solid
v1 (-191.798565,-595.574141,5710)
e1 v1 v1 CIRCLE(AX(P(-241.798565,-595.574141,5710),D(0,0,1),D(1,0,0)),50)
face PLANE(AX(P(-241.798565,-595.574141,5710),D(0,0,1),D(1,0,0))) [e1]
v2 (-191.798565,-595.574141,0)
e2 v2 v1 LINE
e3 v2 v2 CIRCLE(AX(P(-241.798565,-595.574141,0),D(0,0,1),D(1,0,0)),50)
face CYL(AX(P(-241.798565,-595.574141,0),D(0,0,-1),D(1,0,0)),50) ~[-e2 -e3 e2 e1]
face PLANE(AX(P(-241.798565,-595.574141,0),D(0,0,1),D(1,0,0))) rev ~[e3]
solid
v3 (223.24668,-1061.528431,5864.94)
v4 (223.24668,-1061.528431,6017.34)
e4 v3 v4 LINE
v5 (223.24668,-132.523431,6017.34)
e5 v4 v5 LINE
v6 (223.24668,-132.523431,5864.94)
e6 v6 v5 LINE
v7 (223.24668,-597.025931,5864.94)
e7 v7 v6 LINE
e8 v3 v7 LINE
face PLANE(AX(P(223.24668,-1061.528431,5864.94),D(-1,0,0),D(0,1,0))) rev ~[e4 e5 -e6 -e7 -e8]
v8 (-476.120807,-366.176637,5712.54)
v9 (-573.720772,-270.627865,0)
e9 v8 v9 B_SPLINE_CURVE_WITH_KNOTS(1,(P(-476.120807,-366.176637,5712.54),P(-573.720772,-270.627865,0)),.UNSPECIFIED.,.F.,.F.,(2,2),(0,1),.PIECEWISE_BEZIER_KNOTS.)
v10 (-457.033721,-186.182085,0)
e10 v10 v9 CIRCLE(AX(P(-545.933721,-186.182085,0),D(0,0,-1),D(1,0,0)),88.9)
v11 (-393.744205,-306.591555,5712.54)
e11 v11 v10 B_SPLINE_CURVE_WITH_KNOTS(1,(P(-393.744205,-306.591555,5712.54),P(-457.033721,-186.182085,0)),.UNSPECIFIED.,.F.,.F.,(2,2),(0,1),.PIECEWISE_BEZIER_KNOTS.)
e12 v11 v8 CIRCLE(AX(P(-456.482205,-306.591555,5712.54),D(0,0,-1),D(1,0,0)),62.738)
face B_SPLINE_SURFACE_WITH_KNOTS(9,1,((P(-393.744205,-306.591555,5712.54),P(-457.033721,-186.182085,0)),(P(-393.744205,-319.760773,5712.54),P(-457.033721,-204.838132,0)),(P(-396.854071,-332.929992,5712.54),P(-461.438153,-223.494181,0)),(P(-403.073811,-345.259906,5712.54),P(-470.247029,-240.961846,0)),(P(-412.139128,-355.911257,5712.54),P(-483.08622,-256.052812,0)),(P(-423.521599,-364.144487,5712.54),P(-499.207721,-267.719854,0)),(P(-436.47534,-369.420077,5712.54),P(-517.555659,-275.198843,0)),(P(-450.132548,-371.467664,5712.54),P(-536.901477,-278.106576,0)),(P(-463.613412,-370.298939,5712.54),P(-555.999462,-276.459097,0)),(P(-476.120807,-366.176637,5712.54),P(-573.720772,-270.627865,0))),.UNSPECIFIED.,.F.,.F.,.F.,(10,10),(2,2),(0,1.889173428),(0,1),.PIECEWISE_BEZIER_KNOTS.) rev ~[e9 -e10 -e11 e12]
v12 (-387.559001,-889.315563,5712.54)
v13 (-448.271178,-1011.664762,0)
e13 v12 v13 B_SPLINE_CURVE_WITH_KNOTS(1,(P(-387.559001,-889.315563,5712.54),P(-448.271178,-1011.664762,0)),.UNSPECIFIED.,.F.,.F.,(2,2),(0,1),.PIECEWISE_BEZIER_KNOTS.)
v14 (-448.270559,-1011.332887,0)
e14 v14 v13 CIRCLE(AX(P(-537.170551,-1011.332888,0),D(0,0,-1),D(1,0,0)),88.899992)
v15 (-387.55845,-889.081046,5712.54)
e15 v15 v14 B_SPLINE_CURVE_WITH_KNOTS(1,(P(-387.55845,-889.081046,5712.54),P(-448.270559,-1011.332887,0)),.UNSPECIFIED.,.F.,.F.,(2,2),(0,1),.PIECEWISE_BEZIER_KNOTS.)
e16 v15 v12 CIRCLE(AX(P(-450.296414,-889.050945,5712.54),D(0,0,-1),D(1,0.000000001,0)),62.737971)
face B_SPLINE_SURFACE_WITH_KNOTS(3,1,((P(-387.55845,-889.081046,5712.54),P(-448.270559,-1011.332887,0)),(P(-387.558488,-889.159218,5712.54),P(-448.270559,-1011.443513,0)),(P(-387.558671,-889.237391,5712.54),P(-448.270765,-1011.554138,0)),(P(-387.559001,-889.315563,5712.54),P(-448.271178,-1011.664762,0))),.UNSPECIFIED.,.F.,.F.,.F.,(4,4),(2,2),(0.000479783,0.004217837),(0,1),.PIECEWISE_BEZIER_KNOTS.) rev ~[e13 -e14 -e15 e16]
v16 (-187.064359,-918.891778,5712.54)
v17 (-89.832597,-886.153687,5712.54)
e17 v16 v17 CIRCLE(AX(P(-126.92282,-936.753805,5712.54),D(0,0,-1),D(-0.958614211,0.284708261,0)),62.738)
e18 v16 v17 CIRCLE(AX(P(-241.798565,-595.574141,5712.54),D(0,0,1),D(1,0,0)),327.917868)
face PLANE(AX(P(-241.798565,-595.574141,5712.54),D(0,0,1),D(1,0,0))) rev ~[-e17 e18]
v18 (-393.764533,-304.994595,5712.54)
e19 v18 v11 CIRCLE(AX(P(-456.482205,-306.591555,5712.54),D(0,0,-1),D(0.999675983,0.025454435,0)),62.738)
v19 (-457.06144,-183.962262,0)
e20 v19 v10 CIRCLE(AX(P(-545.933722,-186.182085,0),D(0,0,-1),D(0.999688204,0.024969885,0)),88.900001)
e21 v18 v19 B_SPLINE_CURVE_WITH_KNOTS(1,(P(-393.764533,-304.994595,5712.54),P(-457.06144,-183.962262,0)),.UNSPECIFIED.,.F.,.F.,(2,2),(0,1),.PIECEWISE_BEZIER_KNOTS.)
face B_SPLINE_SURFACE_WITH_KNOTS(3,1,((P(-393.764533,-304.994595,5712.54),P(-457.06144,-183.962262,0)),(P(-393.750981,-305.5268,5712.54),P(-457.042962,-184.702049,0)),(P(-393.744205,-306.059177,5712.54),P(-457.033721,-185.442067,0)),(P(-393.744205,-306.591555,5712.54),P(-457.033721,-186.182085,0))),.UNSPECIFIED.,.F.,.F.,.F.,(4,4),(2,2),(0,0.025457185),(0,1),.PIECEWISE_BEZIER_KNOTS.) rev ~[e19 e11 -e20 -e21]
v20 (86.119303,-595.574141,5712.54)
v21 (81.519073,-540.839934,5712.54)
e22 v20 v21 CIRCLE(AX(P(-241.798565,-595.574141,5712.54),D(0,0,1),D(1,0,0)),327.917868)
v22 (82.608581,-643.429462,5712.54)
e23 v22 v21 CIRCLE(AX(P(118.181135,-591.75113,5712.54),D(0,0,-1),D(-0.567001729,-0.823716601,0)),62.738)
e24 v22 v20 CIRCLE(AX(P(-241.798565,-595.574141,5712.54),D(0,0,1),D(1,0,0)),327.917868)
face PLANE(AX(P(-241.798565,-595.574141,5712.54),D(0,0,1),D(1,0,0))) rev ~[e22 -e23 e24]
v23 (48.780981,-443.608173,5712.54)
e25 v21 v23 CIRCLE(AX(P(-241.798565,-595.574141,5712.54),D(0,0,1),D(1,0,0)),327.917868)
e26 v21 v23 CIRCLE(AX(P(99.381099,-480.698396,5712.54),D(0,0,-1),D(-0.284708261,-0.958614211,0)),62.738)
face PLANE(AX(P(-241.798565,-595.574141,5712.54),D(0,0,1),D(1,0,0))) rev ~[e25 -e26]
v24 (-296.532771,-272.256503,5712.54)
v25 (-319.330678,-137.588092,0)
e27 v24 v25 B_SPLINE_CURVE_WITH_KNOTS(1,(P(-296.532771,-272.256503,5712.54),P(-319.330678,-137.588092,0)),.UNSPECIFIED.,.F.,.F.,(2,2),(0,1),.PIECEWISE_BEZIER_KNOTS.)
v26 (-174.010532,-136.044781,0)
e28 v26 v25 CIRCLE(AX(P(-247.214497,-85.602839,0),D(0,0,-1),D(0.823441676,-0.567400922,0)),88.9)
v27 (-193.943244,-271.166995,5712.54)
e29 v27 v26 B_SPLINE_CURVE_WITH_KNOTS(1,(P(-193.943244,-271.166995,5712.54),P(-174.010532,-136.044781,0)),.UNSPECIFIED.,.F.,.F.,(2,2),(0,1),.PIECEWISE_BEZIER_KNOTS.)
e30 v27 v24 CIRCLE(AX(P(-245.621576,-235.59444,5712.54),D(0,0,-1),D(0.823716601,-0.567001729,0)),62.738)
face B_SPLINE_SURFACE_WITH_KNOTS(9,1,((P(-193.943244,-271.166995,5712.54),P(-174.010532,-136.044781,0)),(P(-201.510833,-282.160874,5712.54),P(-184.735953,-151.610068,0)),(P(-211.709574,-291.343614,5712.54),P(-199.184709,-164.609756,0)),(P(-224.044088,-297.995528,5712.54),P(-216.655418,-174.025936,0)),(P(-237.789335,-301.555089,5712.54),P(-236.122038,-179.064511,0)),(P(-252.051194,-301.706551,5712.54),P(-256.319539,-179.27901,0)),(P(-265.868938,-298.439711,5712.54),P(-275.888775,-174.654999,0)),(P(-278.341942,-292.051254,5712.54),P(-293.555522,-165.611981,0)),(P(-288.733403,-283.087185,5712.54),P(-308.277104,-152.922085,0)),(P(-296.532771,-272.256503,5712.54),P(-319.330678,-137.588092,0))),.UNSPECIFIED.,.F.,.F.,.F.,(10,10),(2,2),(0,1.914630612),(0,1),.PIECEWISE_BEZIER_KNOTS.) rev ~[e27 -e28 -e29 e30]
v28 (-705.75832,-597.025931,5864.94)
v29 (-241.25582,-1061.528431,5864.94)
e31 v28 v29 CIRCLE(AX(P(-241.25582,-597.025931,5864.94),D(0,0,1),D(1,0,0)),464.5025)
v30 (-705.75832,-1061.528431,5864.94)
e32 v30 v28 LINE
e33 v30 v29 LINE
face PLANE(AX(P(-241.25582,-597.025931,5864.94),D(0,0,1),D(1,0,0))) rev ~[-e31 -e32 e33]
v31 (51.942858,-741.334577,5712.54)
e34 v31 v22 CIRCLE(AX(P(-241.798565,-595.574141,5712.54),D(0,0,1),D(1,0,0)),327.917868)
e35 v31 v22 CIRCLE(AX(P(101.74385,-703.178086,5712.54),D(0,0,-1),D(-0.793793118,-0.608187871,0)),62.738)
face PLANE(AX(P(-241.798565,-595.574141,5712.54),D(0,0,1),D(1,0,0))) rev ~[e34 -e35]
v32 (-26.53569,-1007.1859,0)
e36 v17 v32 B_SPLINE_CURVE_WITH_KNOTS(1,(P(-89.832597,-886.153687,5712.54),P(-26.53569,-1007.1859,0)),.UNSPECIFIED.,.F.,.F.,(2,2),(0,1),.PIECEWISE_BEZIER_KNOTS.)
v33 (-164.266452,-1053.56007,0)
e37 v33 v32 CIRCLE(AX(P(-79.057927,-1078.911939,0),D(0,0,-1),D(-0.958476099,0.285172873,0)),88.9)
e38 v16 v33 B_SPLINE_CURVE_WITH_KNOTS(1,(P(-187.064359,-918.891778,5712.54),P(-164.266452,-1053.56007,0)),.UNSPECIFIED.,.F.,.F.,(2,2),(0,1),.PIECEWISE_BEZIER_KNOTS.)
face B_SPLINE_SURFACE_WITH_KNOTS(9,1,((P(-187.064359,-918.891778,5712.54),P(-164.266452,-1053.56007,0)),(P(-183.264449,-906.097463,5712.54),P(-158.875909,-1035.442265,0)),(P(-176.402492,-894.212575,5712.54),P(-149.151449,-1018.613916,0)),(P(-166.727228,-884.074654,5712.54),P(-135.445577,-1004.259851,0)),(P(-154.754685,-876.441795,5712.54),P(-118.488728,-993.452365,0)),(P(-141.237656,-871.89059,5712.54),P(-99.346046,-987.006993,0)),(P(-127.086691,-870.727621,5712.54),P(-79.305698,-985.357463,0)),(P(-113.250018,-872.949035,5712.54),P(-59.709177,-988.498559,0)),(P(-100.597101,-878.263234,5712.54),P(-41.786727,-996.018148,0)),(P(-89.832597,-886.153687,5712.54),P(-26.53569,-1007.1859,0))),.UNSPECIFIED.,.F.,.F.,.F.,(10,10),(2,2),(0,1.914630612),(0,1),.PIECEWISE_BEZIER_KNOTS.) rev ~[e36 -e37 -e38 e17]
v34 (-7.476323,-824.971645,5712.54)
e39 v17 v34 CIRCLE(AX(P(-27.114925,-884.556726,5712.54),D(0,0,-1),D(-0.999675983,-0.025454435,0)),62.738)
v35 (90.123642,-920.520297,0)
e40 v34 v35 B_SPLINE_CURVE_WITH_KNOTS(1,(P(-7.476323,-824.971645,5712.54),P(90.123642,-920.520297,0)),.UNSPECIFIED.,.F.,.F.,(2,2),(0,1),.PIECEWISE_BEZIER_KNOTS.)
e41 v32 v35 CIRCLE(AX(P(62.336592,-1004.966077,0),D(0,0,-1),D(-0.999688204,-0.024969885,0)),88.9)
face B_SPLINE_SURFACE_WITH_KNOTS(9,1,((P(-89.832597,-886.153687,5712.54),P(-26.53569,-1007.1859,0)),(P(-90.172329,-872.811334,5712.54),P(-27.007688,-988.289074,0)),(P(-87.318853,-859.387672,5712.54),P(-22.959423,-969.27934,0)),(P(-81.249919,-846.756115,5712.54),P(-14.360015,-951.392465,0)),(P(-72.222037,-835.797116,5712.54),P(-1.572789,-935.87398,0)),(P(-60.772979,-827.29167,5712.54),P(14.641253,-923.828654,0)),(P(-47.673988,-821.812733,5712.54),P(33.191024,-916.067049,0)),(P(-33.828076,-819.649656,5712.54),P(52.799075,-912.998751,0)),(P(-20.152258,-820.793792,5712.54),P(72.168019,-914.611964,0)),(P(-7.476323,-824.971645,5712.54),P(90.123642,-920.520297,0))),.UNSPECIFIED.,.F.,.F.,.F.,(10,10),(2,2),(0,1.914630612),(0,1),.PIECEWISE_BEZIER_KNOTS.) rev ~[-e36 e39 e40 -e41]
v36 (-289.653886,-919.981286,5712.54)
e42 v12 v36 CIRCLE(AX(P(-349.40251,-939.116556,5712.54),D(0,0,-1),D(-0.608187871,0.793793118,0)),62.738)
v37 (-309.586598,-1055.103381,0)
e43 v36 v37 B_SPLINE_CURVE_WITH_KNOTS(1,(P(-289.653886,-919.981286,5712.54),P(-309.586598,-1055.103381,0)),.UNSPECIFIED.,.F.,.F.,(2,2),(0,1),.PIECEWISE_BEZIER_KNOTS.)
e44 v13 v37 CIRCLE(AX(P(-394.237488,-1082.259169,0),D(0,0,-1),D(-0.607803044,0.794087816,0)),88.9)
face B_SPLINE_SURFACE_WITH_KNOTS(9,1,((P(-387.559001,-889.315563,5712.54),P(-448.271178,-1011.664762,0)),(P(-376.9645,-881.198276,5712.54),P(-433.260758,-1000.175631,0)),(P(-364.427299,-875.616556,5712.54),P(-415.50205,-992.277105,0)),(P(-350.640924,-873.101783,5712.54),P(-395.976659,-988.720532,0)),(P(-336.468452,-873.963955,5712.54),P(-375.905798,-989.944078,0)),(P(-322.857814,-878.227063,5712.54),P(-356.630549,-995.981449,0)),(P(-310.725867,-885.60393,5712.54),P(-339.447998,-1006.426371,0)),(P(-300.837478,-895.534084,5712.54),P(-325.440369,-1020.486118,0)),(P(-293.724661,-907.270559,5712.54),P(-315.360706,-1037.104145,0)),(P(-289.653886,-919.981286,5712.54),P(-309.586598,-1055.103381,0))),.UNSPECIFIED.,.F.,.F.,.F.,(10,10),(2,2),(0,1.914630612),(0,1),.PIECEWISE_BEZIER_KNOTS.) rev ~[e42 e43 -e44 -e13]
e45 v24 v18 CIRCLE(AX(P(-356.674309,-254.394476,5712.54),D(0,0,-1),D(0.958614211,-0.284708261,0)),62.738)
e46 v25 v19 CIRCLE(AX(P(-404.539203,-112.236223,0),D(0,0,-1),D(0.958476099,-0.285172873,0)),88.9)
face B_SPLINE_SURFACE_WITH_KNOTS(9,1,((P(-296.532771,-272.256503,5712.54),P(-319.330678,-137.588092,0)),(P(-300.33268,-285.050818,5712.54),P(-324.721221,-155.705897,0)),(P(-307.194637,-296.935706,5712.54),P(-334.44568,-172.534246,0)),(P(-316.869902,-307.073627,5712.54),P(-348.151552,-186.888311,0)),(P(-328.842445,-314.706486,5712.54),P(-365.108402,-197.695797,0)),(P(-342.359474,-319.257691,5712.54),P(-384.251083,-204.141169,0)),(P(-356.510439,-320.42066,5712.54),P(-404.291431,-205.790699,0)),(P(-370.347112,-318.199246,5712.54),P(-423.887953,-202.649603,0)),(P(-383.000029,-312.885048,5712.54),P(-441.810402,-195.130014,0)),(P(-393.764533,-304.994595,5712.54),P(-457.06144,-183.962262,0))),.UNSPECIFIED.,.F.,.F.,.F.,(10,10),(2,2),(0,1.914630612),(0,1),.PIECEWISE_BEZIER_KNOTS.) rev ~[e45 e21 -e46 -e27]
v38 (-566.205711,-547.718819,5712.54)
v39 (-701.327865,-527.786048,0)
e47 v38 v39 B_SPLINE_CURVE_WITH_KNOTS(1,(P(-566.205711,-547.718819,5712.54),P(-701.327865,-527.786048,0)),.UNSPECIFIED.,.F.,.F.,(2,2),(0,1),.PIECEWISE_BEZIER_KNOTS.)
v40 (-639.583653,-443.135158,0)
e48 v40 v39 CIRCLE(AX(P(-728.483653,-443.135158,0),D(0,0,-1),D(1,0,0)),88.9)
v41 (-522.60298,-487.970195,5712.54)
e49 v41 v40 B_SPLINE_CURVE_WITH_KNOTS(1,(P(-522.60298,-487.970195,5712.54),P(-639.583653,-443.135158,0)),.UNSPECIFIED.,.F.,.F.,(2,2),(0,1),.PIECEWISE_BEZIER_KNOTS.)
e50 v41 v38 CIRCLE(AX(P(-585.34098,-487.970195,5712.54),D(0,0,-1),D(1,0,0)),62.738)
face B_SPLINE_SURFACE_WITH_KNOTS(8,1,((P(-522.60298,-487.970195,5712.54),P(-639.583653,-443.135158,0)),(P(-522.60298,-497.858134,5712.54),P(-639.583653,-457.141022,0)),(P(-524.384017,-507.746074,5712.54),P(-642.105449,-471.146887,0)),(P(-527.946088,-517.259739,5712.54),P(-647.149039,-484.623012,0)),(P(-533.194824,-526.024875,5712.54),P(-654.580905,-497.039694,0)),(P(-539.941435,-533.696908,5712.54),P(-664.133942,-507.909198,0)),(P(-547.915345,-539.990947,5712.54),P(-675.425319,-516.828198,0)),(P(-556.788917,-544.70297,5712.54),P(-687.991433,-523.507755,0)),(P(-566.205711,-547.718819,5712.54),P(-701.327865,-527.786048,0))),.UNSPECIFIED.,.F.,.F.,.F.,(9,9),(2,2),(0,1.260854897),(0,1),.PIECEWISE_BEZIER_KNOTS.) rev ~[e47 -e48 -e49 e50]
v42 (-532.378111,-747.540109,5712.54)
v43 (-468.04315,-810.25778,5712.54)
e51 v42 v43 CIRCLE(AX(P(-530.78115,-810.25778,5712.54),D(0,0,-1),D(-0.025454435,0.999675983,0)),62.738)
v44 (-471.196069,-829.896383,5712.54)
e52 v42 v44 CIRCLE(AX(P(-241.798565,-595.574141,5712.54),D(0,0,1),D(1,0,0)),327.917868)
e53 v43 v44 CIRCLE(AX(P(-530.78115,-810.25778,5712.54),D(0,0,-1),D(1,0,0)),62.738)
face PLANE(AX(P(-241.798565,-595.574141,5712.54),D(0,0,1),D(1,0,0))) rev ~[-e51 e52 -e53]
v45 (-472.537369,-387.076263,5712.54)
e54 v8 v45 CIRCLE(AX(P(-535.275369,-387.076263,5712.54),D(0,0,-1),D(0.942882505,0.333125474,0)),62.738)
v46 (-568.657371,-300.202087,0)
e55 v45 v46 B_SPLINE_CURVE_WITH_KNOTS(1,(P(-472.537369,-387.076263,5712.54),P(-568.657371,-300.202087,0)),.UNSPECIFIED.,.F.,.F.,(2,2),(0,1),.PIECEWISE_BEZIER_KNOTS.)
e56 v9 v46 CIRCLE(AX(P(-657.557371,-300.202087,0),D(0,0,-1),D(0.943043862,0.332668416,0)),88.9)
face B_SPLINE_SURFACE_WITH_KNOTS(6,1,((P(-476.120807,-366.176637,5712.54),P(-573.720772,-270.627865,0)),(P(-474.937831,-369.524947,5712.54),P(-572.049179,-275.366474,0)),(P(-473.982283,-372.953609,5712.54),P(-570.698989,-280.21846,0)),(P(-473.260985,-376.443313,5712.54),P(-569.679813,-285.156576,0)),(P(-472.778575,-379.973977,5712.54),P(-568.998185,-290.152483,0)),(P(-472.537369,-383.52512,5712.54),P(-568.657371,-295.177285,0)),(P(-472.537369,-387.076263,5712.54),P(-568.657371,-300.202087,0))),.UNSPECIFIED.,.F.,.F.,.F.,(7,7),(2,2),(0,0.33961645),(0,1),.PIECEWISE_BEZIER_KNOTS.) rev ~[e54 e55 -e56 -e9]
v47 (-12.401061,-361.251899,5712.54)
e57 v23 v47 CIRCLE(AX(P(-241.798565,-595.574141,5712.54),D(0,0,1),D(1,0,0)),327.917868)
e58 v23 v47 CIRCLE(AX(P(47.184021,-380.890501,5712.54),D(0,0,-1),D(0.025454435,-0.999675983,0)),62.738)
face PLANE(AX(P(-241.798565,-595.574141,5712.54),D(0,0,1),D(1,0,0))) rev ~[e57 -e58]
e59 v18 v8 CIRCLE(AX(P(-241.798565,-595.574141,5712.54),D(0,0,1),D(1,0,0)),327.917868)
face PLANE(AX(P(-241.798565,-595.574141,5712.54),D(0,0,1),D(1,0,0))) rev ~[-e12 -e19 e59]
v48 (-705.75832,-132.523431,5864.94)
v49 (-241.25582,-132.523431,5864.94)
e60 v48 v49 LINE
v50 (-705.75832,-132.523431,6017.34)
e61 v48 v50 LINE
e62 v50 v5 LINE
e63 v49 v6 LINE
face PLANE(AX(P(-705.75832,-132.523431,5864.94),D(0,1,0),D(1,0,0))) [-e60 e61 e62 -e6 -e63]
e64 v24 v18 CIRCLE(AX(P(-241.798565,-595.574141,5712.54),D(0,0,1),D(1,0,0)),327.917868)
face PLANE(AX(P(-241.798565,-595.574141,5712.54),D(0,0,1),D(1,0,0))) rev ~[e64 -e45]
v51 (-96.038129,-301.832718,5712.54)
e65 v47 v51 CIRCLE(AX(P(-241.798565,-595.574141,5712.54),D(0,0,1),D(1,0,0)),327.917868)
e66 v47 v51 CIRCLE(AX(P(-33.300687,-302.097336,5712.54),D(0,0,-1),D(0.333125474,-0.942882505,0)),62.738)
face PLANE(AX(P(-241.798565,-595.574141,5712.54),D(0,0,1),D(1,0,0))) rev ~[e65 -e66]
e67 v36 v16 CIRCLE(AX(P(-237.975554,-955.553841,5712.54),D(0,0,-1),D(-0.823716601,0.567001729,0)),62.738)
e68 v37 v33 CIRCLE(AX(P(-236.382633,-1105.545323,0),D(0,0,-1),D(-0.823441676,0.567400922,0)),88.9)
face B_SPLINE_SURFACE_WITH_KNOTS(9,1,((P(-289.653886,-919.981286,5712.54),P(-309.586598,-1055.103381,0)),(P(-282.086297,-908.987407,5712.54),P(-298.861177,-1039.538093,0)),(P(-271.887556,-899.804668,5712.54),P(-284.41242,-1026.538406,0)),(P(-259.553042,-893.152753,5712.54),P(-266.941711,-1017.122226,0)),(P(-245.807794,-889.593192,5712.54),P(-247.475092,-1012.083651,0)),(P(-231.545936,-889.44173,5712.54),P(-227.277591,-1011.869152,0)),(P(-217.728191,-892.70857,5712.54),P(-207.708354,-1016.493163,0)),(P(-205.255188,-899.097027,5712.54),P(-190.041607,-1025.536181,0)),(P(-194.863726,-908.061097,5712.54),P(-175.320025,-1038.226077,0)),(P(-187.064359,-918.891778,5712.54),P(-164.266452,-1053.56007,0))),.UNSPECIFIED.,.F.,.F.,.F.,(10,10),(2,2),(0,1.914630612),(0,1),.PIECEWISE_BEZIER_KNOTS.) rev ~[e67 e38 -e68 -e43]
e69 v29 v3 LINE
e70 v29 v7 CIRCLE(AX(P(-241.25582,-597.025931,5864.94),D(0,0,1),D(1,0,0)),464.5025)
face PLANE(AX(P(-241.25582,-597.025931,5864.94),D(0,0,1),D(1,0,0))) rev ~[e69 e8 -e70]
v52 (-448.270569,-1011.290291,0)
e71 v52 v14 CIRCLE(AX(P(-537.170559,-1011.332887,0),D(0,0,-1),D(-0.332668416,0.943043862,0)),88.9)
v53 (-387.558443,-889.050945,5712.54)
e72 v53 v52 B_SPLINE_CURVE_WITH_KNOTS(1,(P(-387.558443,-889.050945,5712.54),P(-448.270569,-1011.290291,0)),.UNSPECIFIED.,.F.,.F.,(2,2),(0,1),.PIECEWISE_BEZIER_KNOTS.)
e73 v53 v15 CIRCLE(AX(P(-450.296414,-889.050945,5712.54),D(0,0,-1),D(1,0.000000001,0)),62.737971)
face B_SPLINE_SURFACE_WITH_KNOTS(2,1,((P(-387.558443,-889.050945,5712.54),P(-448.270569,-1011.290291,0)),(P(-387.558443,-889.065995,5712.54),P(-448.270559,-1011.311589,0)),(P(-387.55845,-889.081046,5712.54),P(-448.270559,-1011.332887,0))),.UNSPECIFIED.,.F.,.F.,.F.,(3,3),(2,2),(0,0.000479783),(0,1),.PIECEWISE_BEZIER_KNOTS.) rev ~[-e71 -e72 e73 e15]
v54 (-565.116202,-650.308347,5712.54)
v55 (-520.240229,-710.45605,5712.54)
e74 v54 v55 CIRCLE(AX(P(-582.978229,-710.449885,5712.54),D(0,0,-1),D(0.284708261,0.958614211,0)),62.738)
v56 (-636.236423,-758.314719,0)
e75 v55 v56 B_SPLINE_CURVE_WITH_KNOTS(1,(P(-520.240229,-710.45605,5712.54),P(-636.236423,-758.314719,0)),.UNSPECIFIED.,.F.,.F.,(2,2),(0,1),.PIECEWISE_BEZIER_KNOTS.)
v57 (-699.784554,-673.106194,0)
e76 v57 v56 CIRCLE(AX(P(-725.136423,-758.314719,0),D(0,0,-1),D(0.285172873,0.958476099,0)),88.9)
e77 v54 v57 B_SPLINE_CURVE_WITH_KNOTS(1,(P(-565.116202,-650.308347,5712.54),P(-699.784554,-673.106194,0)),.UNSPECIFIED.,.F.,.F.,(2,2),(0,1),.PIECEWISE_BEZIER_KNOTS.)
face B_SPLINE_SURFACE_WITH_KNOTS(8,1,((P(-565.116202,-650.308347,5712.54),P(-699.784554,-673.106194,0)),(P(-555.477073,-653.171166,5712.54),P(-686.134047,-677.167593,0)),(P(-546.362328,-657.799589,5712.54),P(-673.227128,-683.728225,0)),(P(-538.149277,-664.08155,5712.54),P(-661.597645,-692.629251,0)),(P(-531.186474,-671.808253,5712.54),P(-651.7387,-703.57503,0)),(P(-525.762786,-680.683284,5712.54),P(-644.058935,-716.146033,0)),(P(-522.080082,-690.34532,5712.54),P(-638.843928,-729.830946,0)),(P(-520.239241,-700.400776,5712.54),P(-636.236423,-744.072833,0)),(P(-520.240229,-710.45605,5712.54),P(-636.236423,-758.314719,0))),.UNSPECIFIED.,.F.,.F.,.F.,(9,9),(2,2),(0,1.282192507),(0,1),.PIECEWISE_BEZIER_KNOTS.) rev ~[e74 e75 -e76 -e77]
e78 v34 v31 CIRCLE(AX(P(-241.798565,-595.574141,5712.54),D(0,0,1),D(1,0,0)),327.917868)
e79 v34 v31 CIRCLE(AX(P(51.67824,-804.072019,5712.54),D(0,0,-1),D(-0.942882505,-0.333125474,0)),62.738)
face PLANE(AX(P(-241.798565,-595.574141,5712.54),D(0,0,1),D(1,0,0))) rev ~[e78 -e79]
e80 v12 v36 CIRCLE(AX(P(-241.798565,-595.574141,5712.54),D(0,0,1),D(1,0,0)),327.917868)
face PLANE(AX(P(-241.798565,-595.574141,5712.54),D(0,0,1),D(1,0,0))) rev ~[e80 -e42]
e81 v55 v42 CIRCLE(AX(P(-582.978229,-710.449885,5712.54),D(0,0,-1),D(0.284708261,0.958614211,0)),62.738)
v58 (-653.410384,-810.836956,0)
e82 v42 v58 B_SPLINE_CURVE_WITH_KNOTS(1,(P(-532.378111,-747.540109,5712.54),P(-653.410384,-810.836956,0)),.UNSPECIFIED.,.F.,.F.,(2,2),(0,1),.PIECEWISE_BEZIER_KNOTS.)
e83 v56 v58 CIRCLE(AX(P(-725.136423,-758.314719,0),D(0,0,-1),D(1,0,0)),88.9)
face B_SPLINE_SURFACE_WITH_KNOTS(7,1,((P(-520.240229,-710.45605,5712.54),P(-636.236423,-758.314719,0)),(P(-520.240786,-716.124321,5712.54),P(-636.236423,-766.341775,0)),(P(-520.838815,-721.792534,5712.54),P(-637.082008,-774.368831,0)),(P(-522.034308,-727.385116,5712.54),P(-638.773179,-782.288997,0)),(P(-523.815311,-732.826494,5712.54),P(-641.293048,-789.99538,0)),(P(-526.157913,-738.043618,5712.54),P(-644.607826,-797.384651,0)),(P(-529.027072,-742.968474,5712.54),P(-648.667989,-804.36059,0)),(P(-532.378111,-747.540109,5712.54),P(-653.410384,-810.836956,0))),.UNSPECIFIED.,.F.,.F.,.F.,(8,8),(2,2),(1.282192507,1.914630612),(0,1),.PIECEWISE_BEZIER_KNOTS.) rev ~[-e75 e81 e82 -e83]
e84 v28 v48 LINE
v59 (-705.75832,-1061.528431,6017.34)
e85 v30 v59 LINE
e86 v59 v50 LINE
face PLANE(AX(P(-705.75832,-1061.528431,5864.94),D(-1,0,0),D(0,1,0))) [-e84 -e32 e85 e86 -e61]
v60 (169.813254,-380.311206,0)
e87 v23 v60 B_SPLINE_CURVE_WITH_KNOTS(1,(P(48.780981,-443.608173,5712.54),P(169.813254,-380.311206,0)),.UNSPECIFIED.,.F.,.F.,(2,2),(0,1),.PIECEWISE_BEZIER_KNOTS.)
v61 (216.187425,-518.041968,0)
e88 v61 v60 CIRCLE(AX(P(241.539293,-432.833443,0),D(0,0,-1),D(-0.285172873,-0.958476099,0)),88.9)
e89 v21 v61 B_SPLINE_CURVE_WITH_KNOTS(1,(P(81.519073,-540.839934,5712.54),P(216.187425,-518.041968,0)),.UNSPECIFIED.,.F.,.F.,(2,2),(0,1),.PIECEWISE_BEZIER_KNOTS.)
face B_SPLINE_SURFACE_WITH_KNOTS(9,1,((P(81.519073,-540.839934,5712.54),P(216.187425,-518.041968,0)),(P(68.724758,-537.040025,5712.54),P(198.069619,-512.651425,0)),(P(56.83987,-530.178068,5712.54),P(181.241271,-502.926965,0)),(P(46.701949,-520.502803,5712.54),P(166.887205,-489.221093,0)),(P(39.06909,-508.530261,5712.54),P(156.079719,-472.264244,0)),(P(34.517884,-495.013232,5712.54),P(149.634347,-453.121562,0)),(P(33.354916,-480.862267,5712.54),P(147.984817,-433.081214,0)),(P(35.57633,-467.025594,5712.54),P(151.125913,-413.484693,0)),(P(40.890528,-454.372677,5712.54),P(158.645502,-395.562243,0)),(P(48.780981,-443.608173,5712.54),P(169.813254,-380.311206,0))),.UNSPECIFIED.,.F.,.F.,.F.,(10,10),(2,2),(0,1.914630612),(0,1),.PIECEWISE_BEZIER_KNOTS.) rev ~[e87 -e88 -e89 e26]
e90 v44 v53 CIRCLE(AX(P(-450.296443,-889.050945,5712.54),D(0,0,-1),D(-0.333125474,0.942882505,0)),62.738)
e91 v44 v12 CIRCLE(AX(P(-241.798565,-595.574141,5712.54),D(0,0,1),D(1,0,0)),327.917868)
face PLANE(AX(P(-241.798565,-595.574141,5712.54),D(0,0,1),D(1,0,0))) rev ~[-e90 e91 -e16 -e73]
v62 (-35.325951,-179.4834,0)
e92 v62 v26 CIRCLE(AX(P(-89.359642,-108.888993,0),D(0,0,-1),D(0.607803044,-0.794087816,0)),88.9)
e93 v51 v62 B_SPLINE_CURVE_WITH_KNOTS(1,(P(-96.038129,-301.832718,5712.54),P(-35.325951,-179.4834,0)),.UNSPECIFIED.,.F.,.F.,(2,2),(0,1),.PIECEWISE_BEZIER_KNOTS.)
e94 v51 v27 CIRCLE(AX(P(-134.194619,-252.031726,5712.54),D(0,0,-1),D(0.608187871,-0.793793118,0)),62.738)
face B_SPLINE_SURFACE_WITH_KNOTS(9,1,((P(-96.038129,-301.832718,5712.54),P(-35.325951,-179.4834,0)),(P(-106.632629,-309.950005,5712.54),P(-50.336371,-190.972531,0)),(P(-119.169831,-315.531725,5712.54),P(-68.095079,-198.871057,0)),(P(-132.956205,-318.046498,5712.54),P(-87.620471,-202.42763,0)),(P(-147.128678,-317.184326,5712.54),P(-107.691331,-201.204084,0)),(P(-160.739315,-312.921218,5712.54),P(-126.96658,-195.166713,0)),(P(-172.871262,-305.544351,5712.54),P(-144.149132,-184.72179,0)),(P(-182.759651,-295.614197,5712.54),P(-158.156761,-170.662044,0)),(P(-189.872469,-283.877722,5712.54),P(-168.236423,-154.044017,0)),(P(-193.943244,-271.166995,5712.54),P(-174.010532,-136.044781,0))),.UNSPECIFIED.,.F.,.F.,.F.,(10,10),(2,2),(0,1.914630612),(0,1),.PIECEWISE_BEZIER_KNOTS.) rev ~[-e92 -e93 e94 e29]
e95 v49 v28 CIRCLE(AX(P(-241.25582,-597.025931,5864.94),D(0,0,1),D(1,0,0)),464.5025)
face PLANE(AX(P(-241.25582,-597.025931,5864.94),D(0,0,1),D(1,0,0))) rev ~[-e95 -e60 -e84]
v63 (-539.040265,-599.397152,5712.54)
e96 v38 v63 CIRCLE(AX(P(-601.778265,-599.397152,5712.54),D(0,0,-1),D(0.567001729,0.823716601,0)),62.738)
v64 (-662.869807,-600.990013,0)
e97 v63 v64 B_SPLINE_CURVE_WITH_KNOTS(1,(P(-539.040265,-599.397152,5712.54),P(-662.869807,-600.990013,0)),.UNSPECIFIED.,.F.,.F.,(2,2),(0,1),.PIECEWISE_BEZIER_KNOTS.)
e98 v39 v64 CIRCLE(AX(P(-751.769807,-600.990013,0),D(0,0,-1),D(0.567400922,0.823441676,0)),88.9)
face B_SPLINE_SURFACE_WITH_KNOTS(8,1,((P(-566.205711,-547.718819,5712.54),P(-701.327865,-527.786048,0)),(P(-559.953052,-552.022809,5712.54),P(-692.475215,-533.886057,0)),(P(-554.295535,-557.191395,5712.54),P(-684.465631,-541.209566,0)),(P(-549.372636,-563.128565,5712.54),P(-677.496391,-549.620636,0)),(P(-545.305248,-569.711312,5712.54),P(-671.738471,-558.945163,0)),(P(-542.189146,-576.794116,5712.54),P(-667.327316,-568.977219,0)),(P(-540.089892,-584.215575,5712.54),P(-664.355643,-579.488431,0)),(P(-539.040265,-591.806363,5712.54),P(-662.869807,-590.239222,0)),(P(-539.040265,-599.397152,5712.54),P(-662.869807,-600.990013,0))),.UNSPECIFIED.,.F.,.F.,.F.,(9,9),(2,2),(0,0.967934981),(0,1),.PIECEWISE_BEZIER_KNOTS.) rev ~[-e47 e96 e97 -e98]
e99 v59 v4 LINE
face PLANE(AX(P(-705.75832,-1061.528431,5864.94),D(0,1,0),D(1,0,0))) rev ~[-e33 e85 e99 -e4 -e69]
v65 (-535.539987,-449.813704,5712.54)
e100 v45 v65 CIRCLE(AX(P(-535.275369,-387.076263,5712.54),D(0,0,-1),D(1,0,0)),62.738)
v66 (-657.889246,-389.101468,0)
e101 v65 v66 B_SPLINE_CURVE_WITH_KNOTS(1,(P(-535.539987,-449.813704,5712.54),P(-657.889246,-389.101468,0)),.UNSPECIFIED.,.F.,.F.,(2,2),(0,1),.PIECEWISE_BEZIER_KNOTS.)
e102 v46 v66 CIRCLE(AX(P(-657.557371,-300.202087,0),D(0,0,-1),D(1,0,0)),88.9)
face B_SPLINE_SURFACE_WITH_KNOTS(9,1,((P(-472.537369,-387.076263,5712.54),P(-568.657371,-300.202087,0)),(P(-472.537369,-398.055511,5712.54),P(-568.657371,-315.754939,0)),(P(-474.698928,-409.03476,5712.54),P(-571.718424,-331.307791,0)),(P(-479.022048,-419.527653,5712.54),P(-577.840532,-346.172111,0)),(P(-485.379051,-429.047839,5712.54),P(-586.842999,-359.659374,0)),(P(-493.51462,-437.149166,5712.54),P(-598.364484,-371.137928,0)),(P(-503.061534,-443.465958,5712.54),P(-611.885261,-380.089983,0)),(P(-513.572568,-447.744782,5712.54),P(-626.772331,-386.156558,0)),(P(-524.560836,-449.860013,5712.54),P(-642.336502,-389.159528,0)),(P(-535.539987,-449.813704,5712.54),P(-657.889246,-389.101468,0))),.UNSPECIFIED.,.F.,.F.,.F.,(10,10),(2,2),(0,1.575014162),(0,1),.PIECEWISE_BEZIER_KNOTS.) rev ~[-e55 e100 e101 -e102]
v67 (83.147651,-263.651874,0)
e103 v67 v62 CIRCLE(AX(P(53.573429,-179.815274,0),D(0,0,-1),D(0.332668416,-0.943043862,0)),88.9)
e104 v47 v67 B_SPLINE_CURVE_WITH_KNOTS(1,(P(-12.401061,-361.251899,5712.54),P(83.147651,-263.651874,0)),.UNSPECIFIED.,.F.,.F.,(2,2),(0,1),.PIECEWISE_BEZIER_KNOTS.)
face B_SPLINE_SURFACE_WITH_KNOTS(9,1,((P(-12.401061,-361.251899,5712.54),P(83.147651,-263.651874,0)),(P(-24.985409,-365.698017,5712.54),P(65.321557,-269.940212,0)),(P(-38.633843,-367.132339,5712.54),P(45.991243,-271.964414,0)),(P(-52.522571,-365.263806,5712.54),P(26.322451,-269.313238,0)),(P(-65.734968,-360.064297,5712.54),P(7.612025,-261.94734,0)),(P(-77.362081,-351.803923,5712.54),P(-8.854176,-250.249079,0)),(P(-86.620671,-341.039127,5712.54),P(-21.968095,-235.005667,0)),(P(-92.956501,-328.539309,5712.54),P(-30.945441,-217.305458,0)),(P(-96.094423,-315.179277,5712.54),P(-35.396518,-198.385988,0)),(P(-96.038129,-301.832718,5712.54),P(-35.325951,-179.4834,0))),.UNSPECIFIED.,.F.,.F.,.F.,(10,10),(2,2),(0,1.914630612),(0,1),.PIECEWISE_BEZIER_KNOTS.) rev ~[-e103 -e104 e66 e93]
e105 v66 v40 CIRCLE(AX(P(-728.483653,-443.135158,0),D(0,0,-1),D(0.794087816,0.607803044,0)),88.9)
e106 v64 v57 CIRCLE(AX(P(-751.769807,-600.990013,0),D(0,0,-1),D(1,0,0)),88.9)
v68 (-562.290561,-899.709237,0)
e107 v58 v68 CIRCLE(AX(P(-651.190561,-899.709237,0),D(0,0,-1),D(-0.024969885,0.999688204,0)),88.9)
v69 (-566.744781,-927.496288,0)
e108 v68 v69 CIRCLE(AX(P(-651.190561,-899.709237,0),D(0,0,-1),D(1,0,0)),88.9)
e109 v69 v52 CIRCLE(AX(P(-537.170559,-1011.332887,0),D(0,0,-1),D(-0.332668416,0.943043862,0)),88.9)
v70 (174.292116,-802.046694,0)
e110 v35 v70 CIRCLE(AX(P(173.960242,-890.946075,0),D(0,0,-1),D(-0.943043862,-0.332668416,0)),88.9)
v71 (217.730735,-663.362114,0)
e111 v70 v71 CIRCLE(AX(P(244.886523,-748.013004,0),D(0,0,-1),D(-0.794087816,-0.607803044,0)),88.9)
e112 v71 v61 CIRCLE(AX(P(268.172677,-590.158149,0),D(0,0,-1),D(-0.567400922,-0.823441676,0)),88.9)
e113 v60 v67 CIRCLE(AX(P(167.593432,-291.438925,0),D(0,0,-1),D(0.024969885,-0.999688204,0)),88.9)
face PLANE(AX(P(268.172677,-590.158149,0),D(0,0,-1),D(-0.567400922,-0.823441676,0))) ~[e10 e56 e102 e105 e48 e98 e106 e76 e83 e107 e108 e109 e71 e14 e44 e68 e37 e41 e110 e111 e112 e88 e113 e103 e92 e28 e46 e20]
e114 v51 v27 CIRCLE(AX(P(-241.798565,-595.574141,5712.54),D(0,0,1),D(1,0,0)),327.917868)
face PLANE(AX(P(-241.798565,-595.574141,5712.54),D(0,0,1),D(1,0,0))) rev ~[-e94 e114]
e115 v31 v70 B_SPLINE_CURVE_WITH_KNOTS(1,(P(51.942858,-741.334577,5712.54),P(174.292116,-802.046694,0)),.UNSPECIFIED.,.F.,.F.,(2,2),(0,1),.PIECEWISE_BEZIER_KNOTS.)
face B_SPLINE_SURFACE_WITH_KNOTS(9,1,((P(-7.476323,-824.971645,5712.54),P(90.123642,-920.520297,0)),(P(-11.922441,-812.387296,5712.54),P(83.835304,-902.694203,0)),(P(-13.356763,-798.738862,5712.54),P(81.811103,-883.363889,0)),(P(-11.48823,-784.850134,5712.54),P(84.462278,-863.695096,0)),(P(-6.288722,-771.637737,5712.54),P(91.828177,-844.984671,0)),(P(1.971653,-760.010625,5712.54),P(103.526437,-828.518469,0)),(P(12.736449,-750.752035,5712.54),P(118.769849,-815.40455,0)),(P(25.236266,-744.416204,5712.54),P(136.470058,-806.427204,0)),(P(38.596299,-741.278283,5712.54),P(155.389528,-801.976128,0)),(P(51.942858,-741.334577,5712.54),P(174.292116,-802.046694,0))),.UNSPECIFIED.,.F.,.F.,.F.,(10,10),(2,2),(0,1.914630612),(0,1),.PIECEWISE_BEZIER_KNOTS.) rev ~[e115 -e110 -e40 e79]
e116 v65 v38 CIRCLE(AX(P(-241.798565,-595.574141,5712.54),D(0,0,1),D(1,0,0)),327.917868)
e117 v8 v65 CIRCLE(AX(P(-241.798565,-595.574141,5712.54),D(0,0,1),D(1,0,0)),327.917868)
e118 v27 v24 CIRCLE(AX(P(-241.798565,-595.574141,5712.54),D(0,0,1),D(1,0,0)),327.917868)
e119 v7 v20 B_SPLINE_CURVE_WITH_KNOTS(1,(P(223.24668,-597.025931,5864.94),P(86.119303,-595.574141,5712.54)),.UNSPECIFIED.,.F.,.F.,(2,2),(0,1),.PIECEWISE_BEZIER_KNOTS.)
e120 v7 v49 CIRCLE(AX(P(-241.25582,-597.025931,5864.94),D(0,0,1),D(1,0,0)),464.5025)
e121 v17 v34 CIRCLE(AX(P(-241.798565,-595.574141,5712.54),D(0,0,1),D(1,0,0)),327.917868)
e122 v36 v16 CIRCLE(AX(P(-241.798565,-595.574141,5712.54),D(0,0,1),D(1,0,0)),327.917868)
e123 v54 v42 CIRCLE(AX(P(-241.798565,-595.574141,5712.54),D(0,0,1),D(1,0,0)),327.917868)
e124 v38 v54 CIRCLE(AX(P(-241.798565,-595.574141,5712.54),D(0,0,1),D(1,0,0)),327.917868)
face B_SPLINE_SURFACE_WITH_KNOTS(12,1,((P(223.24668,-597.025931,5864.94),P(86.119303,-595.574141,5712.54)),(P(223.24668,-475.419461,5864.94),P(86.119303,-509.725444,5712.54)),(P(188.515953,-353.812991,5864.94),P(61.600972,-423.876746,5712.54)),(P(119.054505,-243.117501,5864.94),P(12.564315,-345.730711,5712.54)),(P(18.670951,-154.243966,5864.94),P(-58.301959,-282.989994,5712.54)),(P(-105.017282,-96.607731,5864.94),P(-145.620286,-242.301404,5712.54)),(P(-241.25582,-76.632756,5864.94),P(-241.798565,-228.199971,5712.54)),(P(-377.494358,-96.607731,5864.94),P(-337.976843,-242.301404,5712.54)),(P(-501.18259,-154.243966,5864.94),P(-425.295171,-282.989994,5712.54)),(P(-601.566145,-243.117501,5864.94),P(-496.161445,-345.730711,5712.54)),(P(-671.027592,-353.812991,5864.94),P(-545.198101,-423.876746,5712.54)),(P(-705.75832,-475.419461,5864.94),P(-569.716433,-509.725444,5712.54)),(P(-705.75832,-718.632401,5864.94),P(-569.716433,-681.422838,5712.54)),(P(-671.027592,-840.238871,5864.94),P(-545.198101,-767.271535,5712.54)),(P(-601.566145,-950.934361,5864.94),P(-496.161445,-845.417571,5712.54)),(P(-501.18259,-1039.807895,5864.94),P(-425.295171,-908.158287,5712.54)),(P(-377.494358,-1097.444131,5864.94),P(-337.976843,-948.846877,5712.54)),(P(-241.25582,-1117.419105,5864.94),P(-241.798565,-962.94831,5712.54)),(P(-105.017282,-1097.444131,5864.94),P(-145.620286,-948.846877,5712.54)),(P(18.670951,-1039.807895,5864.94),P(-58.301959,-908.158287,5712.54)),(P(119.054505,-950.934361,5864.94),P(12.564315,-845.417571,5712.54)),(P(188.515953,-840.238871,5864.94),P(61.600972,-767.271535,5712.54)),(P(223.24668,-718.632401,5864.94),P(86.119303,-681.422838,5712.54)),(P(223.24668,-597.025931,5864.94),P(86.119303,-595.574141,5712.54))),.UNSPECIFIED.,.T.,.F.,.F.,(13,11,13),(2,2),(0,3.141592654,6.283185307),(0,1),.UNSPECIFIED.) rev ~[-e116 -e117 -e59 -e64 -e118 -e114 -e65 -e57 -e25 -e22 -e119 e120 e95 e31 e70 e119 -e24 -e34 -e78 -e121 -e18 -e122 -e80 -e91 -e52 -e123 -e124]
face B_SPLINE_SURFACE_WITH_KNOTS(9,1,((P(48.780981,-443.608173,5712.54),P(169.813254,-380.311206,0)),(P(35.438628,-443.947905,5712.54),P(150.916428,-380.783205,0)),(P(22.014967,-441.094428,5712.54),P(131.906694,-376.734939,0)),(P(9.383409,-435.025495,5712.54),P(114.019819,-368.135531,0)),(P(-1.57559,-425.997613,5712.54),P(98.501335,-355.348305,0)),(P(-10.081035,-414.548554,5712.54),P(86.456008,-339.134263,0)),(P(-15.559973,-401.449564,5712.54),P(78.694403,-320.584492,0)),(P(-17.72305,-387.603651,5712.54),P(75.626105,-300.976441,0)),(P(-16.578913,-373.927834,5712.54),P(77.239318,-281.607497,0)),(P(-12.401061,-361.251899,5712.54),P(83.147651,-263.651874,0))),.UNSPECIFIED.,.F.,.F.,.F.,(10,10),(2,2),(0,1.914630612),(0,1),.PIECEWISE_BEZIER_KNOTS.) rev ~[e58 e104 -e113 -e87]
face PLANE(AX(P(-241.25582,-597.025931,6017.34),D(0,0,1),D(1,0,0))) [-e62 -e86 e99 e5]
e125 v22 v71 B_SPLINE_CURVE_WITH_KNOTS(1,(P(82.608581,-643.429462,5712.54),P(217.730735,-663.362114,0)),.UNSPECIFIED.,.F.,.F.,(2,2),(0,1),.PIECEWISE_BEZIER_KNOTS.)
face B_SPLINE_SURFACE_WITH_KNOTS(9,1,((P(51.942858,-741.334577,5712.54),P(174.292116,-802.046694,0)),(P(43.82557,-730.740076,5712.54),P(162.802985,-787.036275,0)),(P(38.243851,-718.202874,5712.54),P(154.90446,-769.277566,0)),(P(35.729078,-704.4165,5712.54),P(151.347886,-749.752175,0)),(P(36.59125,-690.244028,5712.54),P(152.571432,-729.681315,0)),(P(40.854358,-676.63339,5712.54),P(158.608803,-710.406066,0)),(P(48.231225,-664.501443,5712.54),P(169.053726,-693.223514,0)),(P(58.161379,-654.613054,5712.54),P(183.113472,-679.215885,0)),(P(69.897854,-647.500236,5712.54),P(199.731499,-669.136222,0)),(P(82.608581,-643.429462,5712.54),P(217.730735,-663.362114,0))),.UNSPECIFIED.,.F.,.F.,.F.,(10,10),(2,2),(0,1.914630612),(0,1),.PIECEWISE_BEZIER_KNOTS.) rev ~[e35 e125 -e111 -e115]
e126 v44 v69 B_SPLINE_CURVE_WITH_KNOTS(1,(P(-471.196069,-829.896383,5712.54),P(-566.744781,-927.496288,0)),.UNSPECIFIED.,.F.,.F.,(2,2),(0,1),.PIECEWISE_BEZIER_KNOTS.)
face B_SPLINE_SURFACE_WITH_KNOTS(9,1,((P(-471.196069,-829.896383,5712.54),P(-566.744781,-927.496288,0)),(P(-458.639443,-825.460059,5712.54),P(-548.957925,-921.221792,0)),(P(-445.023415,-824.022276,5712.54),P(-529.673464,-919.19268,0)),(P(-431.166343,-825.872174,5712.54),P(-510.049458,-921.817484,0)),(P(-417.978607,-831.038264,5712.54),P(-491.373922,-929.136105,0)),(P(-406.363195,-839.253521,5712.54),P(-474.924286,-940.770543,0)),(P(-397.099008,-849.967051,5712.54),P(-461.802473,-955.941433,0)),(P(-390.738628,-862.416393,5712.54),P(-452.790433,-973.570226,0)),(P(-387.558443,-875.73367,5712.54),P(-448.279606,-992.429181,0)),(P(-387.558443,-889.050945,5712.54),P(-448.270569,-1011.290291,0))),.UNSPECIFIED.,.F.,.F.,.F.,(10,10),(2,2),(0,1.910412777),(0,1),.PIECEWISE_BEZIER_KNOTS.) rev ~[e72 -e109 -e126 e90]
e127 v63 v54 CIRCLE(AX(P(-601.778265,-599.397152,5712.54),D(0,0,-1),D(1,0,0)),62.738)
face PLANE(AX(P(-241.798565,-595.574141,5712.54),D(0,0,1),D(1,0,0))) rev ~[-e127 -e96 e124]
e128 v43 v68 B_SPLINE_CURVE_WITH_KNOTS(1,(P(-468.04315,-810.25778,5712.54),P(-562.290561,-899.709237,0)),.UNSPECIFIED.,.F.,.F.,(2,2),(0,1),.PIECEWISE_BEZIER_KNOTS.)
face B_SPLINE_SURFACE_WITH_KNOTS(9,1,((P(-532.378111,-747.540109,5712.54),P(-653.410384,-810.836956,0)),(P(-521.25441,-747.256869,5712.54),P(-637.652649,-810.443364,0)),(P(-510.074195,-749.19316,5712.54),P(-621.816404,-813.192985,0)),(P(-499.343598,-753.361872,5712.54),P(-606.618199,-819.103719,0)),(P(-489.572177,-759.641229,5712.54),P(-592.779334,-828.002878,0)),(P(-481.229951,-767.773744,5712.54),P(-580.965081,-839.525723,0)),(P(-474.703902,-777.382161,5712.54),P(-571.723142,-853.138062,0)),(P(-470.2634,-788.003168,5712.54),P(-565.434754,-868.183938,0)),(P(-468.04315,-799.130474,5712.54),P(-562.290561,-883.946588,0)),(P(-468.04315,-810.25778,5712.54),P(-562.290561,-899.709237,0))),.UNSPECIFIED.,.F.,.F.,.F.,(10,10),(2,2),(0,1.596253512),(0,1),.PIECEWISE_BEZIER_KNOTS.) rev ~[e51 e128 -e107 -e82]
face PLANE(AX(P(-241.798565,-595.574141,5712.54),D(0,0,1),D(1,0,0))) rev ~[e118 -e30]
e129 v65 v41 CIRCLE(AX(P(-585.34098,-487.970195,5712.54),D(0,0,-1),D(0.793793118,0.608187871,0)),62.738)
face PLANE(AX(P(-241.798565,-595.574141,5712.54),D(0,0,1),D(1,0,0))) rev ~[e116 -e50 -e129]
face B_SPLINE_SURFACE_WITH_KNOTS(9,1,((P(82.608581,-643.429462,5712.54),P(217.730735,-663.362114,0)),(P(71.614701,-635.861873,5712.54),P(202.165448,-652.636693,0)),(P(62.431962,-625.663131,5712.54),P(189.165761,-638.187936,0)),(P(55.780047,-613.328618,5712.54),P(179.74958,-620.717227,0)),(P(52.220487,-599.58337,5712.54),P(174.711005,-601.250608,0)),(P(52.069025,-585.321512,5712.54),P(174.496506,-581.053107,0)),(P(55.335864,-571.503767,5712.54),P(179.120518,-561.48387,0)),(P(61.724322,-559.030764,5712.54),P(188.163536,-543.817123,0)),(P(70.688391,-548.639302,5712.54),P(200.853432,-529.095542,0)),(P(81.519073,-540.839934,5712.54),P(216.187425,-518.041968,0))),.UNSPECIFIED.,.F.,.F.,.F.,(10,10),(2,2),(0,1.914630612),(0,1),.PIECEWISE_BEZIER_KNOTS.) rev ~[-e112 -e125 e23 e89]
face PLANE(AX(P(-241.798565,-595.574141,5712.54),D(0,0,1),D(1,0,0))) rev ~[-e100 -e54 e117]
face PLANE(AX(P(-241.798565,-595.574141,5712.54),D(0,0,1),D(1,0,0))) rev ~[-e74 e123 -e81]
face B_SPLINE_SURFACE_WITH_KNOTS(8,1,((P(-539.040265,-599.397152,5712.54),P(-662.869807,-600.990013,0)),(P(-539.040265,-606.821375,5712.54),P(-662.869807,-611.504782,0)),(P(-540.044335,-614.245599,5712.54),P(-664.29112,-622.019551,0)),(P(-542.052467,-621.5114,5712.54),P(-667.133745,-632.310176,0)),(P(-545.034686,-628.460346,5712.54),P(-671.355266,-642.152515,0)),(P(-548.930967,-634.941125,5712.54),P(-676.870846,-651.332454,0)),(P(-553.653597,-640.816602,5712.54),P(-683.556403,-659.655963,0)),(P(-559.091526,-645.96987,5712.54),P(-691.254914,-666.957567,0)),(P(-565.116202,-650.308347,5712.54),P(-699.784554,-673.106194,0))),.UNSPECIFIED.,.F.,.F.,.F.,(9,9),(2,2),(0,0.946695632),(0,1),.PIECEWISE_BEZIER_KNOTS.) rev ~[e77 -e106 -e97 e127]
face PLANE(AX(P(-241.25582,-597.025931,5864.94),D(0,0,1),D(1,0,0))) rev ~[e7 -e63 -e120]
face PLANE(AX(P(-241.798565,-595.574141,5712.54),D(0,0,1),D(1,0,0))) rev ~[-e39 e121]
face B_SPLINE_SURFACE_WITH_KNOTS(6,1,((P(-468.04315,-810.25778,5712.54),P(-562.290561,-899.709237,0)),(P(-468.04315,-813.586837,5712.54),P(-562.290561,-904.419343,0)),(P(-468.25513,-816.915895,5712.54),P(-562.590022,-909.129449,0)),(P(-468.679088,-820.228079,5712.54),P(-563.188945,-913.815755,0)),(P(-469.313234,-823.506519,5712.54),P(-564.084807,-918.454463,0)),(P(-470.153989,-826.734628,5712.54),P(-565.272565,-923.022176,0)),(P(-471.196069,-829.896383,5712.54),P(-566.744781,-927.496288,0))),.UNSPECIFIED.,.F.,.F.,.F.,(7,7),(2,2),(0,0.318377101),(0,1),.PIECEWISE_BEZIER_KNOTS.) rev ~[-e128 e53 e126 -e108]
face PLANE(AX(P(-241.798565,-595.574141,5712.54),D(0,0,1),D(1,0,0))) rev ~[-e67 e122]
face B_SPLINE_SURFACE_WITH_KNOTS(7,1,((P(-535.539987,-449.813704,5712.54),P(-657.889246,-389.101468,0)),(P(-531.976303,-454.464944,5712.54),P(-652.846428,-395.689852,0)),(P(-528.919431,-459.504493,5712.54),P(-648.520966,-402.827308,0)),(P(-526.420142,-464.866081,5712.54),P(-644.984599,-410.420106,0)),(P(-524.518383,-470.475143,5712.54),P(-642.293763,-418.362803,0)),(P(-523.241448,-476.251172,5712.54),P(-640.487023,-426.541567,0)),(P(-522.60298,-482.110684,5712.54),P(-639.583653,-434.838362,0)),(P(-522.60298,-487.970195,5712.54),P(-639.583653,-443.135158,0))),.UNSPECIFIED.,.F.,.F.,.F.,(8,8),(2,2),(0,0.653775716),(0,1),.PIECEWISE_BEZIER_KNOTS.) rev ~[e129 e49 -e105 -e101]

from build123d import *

# Parameters (mm, degrees)
F1_R      = 50
F2_DEPTH  = 5710
F8_R      = 464.5025
F6_R      = 327.9178677151
F10_W     = 929.005
F10_H     = 929.005
F11_DEPTH = 152.4


with BuildPart() as f2:
    # F1 (on face) → F2 (new body)
    with BuildSketch(Plane.XY):
        with Locations((-241.7985647917, -595.5741405487)):
            Circle(F1_R)
    extrude(amount=F2_DEPTH)


with BuildPart() as f5:
    # F4 (on offset) → F5 section 0
    with BuildSketch(Plane.XY.offset(5712.54)):
        with BuildLine():
            ThreePointArc((82.6085809515, -643.4294616488), (55.4466731348, -592.4173741574), (81.5190725913, -540.8399343891))
            ThreePointArc((81.5190725913, -540.8399343891), (39.9229612138, -500.7180472855), (48.7809811976, -443.6081725838))
            ThreePointArc((48.7809811976, -443.6081725838), (-3.1776165419, -418.3038957235), (-12.4010607443, -361.2518985322))
            ThreePointArc((-12.4010607443, -361.2518985322), (-69.6360752822, -353.2421908394), (-96.0381286887, -301.8327181482))
            ThreePointArc((-96.0381286887, -301.8327181482), (-152.9469980223, -311.9016256189), (-193.9432436916, -271.1669948055))
            ThreePointArc((-193.9432436916, -271.1669948055), (-244.955331183, -298.3289026223), (-296.5327709513, -272.2565031657))
            ThreePointArc((-296.5327709513, -272.2565031657), (-336.6546580548, -313.8526145432), (-393.7645327565, -304.9945945594))
            ThreePointArc((-393.7645327565, -304.9945945594), (-393.7492868459, -305.7930100504), (-393.7442046012, -306.5915549174))
            ThreePointArc((-393.7442046012, -306.5915549174), (-419.7128558258, -357.4253196278), (-476.1208068082, -366.1766365013))
            ThreePointArc((-476.1208068082, -366.1766365013), (-473.4397179136, -376.4739586196), (-472.537369413, -387.0762625037))
            ThreePointArc((-472.537369413, -387.0762625037), (-491.0065595478, -431.5321858111), (-535.5399871922, -449.8137044457))
            ThreePointArc((-535.5399871922, -449.8137044457), (-525.9251935326, -467.8251960906), (-522.6029798153, -487.9701950831))
            ThreePointArc((-522.6029798153, -487.9701950831), (-534.6627538789, -524.953624615), (-566.2057105349, -547.7188194486))
            ThreePointArc((-566.2057105349, -547.7188194486), (-546.2453578162, -570.2054941972), (-539.0402650343, -599.3971515655))
            ThreePointArc((-539.0402650343, -599.3971515655), (-545.9384891407, -627.9974325458), (-565.1162021747, -650.3083467084))
            ThreePointArc((-565.1162021747, -650.3083467083), (-532.6956053929, -672.930364835), (-520.2402290675, -710.449885093))
            ThreePointArc((-520.2402290675, -710.449885093), (-523.3518638208, -729.9627836852), (-532.378110781, -747.5401085136))
            ThreePointArc((-532.378110781, -747.5401085136), (-486.9869353651, -765.3342523192), (-468.0431504229, -810.2577803582))
            ThreePointArc((-468.0431504229, -810.2577803582), (-468.8363948241, -820.2028242393), (-471.1960688391, -829.8963825652))
            ThreePointArc((-471.1960688391, -829.8963825652), (-414.0689953151, -837.8295757031), (-387.5584428367, -889.05094517))
            ThreePointArc((-387.5584428367, -889.05094517), (-387.5585823513, -889.1832543539), (-387.5590008947, -889.3155629493))
            ThreePointArc((-387.5590008947, -889.3155629493), (-330.6501315611, -879.2466554785), (-289.6538858918, -919.9812862919))
            ThreePointArc((-289.6538858918, -919.9812862919), (-238.6417984004, -892.8193784752), (-187.064358632, -918.8917779317))
            ThreePointArc((-187.064358632, -918.8917779317), (-146.9424715285, -877.2956665542), (-89.8325968268, -886.153686538))
            ThreePointArc((-89.8325968268, -886.153686538), (-64.5283199665, -834.1950887985), (-7.4763227751, -824.9716445961))
            ThreePointArc((-7.4763227751, -824.9716445961), (0.5333849176, -767.7366300582), (51.9428576089, -741.3345766517))
            ThreePointArc((51.9428576089, -741.3345766517), (41.8739501382, -684.4257073181), (82.6085809515, -643.4294616488))
        make_face()
    # F0 (on Top) → F5 section 1
    with BuildSketch(Plane.XY):
        with BuildLine():
            ThreePointArc((217.7307352444, -663.3621136576), (179.277690131, -591.1022200019), (216.1874245599, -518.0419680587))
            ThreePointArc((216.1874245599, -518.0419680587), (157.2868702821, -461.2013697562), (169.8132542617, -380.3112058671))
            ThreePointArc((169.8132542617, -380.3112058671), (96.2307874564, -344.4538567113), (83.1476512463, -263.6518737126))
            ThreePointArc((83.1476512463, -263.6518737126), (2.0860364438, -252.2877408718), (-35.3259514283, -179.4833998399))
            ThreePointArc((-35.3259514283, -179.4833998399), (-115.9318385818, -193.7248838151), (-174.0105320782, -136.044780908))
            ThreePointArc((-174.0105320782, -136.044780908), (-246.2704257338, -174.4978260214), (-319.330677677, -137.5880915925))
            ThreePointArc((-319.330677677, -137.5880915925), (-376.1712759795, -196.4886458703), (-457.0614398687, -183.9622618907))
            ThreePointArc((-457.0614398687, -183.9622618907), (-457.0406511287, -185.0720867353), (-457.0337211885, -186.1820846331))
            ThreePointArc((-457.0337211885, -186.1820846331), (-493.8139496004, -258.2011057983), (-573.7207720232, -270.6278649061))
            ThreePointArc((-573.7207720232, -270.6278649061), (-569.932364408, -285.1998152046), (-568.6573713385, -300.2020870469))
            ThreePointArc((-568.6573713385, -300.2020870469), (-594.8130235777, -363.1811059665), (-657.8892458958, -389.1014675807))
            ThreePointArc((-657.8892458958, -389.1014675807), (-644.284327422, -414.6100181367), (-639.5836527418, -443.1351582011))
            ThreePointArc((-639.5836527418, -443.1351582011), (-656.6597028867, -495.5234224139), (-701.3278648277, -527.7860482305))
            ThreePointArc((-701.3278648278, -527.7860482305), (-673.0694299239, -559.6443885492), (-662.8698068021, -600.9900132178))
            ThreePointArc((-662.8698068021, -600.9900132178), (-672.6347988683, -641.4975497921), (-699.7845541433, -673.1061938294))
            ThreePointArc((-699.7845541433, -673.1061938294), (-653.8728585496, -705.1666762733), (-636.2364225158, -758.3147190485))
            ThreePointArc((-636.2364225158, -758.3147190485), (-640.6389230326, -785.9440979971), (-653.410383845, -810.8369560211))
            ThreePointArc((-653.410383845, -810.8369560211), (-589.1185555035, -836.0674576604), (-562.2905611026, -899.7092373409))
            ThreePointArc((-562.2905611026, -899.7092373409), (-563.4111789384, -913.7801316574), (-566.7447808297, -927.4962881755))
            ThreePointArc((-566.7447808297, -927.4962881755), (-485.8185302397, -938.7644427359), (-448.2705586888, -1011.3328874909))
            ThreePointArc((-448.2705586888, -1011.3328874909), (-448.2707135555, -1011.4988250586), (-448.2711781551, -1011.6647620482))
            ThreePointArc((-448.2711781551, -1011.6647620482), (-367.6652910016, -997.423278073), (-309.5865975052, -1055.1033809801))
            ThreePointArc((-309.5865975052, -1055.1033809801), (-237.3267038496, -1016.6503358667), (-164.2664519063, -1053.5600702956))
            ThreePointArc((-164.2664519063, -1053.5600702956), (-107.4258536038, -994.6595160178), (-26.5356897147, -1007.1858999974))
            ThreePointArc((-26.5356897147, -1007.1858999974), (9.3216594411, -933.6034331922), (90.1236424398, -920.520296982))
            ThreePointArc((90.1236424398, -920.520296982), (101.4877752806, -839.4586821795), (174.2921163125, -802.0466943075))
            ThreePointArc((174.2921163125, -802.0466943075), (160.0506323373, -721.440807154), (217.7307352444, -663.3621136576))
        make_face()
    loft()

    # F8 (on offset) → F9 section 0
    with BuildSketch(Plane.XY.offset(5864.94)):
        with Locations((-241.2558197975, -597.0259308815)):
            Circle(F8_R)
    # F6 (on offset) → F9 section 1
    with BuildSketch(Plane.XY.offset(5712.54)):
        with Locations((-241.7985647917, -595.5741405487)):
            Circle(F6_R)
    loft()

    # F10 (on offset) → F11 (join)
    with BuildSketch(Plane.XY.offset(5864.94)):
        with Locations((-241.2558197975, -597.0259308815)):
            Rectangle(F10_W, F10_H)
    extrude(amount=F11_DEPTH)


solid = Compound([f2.part, f5.part])
